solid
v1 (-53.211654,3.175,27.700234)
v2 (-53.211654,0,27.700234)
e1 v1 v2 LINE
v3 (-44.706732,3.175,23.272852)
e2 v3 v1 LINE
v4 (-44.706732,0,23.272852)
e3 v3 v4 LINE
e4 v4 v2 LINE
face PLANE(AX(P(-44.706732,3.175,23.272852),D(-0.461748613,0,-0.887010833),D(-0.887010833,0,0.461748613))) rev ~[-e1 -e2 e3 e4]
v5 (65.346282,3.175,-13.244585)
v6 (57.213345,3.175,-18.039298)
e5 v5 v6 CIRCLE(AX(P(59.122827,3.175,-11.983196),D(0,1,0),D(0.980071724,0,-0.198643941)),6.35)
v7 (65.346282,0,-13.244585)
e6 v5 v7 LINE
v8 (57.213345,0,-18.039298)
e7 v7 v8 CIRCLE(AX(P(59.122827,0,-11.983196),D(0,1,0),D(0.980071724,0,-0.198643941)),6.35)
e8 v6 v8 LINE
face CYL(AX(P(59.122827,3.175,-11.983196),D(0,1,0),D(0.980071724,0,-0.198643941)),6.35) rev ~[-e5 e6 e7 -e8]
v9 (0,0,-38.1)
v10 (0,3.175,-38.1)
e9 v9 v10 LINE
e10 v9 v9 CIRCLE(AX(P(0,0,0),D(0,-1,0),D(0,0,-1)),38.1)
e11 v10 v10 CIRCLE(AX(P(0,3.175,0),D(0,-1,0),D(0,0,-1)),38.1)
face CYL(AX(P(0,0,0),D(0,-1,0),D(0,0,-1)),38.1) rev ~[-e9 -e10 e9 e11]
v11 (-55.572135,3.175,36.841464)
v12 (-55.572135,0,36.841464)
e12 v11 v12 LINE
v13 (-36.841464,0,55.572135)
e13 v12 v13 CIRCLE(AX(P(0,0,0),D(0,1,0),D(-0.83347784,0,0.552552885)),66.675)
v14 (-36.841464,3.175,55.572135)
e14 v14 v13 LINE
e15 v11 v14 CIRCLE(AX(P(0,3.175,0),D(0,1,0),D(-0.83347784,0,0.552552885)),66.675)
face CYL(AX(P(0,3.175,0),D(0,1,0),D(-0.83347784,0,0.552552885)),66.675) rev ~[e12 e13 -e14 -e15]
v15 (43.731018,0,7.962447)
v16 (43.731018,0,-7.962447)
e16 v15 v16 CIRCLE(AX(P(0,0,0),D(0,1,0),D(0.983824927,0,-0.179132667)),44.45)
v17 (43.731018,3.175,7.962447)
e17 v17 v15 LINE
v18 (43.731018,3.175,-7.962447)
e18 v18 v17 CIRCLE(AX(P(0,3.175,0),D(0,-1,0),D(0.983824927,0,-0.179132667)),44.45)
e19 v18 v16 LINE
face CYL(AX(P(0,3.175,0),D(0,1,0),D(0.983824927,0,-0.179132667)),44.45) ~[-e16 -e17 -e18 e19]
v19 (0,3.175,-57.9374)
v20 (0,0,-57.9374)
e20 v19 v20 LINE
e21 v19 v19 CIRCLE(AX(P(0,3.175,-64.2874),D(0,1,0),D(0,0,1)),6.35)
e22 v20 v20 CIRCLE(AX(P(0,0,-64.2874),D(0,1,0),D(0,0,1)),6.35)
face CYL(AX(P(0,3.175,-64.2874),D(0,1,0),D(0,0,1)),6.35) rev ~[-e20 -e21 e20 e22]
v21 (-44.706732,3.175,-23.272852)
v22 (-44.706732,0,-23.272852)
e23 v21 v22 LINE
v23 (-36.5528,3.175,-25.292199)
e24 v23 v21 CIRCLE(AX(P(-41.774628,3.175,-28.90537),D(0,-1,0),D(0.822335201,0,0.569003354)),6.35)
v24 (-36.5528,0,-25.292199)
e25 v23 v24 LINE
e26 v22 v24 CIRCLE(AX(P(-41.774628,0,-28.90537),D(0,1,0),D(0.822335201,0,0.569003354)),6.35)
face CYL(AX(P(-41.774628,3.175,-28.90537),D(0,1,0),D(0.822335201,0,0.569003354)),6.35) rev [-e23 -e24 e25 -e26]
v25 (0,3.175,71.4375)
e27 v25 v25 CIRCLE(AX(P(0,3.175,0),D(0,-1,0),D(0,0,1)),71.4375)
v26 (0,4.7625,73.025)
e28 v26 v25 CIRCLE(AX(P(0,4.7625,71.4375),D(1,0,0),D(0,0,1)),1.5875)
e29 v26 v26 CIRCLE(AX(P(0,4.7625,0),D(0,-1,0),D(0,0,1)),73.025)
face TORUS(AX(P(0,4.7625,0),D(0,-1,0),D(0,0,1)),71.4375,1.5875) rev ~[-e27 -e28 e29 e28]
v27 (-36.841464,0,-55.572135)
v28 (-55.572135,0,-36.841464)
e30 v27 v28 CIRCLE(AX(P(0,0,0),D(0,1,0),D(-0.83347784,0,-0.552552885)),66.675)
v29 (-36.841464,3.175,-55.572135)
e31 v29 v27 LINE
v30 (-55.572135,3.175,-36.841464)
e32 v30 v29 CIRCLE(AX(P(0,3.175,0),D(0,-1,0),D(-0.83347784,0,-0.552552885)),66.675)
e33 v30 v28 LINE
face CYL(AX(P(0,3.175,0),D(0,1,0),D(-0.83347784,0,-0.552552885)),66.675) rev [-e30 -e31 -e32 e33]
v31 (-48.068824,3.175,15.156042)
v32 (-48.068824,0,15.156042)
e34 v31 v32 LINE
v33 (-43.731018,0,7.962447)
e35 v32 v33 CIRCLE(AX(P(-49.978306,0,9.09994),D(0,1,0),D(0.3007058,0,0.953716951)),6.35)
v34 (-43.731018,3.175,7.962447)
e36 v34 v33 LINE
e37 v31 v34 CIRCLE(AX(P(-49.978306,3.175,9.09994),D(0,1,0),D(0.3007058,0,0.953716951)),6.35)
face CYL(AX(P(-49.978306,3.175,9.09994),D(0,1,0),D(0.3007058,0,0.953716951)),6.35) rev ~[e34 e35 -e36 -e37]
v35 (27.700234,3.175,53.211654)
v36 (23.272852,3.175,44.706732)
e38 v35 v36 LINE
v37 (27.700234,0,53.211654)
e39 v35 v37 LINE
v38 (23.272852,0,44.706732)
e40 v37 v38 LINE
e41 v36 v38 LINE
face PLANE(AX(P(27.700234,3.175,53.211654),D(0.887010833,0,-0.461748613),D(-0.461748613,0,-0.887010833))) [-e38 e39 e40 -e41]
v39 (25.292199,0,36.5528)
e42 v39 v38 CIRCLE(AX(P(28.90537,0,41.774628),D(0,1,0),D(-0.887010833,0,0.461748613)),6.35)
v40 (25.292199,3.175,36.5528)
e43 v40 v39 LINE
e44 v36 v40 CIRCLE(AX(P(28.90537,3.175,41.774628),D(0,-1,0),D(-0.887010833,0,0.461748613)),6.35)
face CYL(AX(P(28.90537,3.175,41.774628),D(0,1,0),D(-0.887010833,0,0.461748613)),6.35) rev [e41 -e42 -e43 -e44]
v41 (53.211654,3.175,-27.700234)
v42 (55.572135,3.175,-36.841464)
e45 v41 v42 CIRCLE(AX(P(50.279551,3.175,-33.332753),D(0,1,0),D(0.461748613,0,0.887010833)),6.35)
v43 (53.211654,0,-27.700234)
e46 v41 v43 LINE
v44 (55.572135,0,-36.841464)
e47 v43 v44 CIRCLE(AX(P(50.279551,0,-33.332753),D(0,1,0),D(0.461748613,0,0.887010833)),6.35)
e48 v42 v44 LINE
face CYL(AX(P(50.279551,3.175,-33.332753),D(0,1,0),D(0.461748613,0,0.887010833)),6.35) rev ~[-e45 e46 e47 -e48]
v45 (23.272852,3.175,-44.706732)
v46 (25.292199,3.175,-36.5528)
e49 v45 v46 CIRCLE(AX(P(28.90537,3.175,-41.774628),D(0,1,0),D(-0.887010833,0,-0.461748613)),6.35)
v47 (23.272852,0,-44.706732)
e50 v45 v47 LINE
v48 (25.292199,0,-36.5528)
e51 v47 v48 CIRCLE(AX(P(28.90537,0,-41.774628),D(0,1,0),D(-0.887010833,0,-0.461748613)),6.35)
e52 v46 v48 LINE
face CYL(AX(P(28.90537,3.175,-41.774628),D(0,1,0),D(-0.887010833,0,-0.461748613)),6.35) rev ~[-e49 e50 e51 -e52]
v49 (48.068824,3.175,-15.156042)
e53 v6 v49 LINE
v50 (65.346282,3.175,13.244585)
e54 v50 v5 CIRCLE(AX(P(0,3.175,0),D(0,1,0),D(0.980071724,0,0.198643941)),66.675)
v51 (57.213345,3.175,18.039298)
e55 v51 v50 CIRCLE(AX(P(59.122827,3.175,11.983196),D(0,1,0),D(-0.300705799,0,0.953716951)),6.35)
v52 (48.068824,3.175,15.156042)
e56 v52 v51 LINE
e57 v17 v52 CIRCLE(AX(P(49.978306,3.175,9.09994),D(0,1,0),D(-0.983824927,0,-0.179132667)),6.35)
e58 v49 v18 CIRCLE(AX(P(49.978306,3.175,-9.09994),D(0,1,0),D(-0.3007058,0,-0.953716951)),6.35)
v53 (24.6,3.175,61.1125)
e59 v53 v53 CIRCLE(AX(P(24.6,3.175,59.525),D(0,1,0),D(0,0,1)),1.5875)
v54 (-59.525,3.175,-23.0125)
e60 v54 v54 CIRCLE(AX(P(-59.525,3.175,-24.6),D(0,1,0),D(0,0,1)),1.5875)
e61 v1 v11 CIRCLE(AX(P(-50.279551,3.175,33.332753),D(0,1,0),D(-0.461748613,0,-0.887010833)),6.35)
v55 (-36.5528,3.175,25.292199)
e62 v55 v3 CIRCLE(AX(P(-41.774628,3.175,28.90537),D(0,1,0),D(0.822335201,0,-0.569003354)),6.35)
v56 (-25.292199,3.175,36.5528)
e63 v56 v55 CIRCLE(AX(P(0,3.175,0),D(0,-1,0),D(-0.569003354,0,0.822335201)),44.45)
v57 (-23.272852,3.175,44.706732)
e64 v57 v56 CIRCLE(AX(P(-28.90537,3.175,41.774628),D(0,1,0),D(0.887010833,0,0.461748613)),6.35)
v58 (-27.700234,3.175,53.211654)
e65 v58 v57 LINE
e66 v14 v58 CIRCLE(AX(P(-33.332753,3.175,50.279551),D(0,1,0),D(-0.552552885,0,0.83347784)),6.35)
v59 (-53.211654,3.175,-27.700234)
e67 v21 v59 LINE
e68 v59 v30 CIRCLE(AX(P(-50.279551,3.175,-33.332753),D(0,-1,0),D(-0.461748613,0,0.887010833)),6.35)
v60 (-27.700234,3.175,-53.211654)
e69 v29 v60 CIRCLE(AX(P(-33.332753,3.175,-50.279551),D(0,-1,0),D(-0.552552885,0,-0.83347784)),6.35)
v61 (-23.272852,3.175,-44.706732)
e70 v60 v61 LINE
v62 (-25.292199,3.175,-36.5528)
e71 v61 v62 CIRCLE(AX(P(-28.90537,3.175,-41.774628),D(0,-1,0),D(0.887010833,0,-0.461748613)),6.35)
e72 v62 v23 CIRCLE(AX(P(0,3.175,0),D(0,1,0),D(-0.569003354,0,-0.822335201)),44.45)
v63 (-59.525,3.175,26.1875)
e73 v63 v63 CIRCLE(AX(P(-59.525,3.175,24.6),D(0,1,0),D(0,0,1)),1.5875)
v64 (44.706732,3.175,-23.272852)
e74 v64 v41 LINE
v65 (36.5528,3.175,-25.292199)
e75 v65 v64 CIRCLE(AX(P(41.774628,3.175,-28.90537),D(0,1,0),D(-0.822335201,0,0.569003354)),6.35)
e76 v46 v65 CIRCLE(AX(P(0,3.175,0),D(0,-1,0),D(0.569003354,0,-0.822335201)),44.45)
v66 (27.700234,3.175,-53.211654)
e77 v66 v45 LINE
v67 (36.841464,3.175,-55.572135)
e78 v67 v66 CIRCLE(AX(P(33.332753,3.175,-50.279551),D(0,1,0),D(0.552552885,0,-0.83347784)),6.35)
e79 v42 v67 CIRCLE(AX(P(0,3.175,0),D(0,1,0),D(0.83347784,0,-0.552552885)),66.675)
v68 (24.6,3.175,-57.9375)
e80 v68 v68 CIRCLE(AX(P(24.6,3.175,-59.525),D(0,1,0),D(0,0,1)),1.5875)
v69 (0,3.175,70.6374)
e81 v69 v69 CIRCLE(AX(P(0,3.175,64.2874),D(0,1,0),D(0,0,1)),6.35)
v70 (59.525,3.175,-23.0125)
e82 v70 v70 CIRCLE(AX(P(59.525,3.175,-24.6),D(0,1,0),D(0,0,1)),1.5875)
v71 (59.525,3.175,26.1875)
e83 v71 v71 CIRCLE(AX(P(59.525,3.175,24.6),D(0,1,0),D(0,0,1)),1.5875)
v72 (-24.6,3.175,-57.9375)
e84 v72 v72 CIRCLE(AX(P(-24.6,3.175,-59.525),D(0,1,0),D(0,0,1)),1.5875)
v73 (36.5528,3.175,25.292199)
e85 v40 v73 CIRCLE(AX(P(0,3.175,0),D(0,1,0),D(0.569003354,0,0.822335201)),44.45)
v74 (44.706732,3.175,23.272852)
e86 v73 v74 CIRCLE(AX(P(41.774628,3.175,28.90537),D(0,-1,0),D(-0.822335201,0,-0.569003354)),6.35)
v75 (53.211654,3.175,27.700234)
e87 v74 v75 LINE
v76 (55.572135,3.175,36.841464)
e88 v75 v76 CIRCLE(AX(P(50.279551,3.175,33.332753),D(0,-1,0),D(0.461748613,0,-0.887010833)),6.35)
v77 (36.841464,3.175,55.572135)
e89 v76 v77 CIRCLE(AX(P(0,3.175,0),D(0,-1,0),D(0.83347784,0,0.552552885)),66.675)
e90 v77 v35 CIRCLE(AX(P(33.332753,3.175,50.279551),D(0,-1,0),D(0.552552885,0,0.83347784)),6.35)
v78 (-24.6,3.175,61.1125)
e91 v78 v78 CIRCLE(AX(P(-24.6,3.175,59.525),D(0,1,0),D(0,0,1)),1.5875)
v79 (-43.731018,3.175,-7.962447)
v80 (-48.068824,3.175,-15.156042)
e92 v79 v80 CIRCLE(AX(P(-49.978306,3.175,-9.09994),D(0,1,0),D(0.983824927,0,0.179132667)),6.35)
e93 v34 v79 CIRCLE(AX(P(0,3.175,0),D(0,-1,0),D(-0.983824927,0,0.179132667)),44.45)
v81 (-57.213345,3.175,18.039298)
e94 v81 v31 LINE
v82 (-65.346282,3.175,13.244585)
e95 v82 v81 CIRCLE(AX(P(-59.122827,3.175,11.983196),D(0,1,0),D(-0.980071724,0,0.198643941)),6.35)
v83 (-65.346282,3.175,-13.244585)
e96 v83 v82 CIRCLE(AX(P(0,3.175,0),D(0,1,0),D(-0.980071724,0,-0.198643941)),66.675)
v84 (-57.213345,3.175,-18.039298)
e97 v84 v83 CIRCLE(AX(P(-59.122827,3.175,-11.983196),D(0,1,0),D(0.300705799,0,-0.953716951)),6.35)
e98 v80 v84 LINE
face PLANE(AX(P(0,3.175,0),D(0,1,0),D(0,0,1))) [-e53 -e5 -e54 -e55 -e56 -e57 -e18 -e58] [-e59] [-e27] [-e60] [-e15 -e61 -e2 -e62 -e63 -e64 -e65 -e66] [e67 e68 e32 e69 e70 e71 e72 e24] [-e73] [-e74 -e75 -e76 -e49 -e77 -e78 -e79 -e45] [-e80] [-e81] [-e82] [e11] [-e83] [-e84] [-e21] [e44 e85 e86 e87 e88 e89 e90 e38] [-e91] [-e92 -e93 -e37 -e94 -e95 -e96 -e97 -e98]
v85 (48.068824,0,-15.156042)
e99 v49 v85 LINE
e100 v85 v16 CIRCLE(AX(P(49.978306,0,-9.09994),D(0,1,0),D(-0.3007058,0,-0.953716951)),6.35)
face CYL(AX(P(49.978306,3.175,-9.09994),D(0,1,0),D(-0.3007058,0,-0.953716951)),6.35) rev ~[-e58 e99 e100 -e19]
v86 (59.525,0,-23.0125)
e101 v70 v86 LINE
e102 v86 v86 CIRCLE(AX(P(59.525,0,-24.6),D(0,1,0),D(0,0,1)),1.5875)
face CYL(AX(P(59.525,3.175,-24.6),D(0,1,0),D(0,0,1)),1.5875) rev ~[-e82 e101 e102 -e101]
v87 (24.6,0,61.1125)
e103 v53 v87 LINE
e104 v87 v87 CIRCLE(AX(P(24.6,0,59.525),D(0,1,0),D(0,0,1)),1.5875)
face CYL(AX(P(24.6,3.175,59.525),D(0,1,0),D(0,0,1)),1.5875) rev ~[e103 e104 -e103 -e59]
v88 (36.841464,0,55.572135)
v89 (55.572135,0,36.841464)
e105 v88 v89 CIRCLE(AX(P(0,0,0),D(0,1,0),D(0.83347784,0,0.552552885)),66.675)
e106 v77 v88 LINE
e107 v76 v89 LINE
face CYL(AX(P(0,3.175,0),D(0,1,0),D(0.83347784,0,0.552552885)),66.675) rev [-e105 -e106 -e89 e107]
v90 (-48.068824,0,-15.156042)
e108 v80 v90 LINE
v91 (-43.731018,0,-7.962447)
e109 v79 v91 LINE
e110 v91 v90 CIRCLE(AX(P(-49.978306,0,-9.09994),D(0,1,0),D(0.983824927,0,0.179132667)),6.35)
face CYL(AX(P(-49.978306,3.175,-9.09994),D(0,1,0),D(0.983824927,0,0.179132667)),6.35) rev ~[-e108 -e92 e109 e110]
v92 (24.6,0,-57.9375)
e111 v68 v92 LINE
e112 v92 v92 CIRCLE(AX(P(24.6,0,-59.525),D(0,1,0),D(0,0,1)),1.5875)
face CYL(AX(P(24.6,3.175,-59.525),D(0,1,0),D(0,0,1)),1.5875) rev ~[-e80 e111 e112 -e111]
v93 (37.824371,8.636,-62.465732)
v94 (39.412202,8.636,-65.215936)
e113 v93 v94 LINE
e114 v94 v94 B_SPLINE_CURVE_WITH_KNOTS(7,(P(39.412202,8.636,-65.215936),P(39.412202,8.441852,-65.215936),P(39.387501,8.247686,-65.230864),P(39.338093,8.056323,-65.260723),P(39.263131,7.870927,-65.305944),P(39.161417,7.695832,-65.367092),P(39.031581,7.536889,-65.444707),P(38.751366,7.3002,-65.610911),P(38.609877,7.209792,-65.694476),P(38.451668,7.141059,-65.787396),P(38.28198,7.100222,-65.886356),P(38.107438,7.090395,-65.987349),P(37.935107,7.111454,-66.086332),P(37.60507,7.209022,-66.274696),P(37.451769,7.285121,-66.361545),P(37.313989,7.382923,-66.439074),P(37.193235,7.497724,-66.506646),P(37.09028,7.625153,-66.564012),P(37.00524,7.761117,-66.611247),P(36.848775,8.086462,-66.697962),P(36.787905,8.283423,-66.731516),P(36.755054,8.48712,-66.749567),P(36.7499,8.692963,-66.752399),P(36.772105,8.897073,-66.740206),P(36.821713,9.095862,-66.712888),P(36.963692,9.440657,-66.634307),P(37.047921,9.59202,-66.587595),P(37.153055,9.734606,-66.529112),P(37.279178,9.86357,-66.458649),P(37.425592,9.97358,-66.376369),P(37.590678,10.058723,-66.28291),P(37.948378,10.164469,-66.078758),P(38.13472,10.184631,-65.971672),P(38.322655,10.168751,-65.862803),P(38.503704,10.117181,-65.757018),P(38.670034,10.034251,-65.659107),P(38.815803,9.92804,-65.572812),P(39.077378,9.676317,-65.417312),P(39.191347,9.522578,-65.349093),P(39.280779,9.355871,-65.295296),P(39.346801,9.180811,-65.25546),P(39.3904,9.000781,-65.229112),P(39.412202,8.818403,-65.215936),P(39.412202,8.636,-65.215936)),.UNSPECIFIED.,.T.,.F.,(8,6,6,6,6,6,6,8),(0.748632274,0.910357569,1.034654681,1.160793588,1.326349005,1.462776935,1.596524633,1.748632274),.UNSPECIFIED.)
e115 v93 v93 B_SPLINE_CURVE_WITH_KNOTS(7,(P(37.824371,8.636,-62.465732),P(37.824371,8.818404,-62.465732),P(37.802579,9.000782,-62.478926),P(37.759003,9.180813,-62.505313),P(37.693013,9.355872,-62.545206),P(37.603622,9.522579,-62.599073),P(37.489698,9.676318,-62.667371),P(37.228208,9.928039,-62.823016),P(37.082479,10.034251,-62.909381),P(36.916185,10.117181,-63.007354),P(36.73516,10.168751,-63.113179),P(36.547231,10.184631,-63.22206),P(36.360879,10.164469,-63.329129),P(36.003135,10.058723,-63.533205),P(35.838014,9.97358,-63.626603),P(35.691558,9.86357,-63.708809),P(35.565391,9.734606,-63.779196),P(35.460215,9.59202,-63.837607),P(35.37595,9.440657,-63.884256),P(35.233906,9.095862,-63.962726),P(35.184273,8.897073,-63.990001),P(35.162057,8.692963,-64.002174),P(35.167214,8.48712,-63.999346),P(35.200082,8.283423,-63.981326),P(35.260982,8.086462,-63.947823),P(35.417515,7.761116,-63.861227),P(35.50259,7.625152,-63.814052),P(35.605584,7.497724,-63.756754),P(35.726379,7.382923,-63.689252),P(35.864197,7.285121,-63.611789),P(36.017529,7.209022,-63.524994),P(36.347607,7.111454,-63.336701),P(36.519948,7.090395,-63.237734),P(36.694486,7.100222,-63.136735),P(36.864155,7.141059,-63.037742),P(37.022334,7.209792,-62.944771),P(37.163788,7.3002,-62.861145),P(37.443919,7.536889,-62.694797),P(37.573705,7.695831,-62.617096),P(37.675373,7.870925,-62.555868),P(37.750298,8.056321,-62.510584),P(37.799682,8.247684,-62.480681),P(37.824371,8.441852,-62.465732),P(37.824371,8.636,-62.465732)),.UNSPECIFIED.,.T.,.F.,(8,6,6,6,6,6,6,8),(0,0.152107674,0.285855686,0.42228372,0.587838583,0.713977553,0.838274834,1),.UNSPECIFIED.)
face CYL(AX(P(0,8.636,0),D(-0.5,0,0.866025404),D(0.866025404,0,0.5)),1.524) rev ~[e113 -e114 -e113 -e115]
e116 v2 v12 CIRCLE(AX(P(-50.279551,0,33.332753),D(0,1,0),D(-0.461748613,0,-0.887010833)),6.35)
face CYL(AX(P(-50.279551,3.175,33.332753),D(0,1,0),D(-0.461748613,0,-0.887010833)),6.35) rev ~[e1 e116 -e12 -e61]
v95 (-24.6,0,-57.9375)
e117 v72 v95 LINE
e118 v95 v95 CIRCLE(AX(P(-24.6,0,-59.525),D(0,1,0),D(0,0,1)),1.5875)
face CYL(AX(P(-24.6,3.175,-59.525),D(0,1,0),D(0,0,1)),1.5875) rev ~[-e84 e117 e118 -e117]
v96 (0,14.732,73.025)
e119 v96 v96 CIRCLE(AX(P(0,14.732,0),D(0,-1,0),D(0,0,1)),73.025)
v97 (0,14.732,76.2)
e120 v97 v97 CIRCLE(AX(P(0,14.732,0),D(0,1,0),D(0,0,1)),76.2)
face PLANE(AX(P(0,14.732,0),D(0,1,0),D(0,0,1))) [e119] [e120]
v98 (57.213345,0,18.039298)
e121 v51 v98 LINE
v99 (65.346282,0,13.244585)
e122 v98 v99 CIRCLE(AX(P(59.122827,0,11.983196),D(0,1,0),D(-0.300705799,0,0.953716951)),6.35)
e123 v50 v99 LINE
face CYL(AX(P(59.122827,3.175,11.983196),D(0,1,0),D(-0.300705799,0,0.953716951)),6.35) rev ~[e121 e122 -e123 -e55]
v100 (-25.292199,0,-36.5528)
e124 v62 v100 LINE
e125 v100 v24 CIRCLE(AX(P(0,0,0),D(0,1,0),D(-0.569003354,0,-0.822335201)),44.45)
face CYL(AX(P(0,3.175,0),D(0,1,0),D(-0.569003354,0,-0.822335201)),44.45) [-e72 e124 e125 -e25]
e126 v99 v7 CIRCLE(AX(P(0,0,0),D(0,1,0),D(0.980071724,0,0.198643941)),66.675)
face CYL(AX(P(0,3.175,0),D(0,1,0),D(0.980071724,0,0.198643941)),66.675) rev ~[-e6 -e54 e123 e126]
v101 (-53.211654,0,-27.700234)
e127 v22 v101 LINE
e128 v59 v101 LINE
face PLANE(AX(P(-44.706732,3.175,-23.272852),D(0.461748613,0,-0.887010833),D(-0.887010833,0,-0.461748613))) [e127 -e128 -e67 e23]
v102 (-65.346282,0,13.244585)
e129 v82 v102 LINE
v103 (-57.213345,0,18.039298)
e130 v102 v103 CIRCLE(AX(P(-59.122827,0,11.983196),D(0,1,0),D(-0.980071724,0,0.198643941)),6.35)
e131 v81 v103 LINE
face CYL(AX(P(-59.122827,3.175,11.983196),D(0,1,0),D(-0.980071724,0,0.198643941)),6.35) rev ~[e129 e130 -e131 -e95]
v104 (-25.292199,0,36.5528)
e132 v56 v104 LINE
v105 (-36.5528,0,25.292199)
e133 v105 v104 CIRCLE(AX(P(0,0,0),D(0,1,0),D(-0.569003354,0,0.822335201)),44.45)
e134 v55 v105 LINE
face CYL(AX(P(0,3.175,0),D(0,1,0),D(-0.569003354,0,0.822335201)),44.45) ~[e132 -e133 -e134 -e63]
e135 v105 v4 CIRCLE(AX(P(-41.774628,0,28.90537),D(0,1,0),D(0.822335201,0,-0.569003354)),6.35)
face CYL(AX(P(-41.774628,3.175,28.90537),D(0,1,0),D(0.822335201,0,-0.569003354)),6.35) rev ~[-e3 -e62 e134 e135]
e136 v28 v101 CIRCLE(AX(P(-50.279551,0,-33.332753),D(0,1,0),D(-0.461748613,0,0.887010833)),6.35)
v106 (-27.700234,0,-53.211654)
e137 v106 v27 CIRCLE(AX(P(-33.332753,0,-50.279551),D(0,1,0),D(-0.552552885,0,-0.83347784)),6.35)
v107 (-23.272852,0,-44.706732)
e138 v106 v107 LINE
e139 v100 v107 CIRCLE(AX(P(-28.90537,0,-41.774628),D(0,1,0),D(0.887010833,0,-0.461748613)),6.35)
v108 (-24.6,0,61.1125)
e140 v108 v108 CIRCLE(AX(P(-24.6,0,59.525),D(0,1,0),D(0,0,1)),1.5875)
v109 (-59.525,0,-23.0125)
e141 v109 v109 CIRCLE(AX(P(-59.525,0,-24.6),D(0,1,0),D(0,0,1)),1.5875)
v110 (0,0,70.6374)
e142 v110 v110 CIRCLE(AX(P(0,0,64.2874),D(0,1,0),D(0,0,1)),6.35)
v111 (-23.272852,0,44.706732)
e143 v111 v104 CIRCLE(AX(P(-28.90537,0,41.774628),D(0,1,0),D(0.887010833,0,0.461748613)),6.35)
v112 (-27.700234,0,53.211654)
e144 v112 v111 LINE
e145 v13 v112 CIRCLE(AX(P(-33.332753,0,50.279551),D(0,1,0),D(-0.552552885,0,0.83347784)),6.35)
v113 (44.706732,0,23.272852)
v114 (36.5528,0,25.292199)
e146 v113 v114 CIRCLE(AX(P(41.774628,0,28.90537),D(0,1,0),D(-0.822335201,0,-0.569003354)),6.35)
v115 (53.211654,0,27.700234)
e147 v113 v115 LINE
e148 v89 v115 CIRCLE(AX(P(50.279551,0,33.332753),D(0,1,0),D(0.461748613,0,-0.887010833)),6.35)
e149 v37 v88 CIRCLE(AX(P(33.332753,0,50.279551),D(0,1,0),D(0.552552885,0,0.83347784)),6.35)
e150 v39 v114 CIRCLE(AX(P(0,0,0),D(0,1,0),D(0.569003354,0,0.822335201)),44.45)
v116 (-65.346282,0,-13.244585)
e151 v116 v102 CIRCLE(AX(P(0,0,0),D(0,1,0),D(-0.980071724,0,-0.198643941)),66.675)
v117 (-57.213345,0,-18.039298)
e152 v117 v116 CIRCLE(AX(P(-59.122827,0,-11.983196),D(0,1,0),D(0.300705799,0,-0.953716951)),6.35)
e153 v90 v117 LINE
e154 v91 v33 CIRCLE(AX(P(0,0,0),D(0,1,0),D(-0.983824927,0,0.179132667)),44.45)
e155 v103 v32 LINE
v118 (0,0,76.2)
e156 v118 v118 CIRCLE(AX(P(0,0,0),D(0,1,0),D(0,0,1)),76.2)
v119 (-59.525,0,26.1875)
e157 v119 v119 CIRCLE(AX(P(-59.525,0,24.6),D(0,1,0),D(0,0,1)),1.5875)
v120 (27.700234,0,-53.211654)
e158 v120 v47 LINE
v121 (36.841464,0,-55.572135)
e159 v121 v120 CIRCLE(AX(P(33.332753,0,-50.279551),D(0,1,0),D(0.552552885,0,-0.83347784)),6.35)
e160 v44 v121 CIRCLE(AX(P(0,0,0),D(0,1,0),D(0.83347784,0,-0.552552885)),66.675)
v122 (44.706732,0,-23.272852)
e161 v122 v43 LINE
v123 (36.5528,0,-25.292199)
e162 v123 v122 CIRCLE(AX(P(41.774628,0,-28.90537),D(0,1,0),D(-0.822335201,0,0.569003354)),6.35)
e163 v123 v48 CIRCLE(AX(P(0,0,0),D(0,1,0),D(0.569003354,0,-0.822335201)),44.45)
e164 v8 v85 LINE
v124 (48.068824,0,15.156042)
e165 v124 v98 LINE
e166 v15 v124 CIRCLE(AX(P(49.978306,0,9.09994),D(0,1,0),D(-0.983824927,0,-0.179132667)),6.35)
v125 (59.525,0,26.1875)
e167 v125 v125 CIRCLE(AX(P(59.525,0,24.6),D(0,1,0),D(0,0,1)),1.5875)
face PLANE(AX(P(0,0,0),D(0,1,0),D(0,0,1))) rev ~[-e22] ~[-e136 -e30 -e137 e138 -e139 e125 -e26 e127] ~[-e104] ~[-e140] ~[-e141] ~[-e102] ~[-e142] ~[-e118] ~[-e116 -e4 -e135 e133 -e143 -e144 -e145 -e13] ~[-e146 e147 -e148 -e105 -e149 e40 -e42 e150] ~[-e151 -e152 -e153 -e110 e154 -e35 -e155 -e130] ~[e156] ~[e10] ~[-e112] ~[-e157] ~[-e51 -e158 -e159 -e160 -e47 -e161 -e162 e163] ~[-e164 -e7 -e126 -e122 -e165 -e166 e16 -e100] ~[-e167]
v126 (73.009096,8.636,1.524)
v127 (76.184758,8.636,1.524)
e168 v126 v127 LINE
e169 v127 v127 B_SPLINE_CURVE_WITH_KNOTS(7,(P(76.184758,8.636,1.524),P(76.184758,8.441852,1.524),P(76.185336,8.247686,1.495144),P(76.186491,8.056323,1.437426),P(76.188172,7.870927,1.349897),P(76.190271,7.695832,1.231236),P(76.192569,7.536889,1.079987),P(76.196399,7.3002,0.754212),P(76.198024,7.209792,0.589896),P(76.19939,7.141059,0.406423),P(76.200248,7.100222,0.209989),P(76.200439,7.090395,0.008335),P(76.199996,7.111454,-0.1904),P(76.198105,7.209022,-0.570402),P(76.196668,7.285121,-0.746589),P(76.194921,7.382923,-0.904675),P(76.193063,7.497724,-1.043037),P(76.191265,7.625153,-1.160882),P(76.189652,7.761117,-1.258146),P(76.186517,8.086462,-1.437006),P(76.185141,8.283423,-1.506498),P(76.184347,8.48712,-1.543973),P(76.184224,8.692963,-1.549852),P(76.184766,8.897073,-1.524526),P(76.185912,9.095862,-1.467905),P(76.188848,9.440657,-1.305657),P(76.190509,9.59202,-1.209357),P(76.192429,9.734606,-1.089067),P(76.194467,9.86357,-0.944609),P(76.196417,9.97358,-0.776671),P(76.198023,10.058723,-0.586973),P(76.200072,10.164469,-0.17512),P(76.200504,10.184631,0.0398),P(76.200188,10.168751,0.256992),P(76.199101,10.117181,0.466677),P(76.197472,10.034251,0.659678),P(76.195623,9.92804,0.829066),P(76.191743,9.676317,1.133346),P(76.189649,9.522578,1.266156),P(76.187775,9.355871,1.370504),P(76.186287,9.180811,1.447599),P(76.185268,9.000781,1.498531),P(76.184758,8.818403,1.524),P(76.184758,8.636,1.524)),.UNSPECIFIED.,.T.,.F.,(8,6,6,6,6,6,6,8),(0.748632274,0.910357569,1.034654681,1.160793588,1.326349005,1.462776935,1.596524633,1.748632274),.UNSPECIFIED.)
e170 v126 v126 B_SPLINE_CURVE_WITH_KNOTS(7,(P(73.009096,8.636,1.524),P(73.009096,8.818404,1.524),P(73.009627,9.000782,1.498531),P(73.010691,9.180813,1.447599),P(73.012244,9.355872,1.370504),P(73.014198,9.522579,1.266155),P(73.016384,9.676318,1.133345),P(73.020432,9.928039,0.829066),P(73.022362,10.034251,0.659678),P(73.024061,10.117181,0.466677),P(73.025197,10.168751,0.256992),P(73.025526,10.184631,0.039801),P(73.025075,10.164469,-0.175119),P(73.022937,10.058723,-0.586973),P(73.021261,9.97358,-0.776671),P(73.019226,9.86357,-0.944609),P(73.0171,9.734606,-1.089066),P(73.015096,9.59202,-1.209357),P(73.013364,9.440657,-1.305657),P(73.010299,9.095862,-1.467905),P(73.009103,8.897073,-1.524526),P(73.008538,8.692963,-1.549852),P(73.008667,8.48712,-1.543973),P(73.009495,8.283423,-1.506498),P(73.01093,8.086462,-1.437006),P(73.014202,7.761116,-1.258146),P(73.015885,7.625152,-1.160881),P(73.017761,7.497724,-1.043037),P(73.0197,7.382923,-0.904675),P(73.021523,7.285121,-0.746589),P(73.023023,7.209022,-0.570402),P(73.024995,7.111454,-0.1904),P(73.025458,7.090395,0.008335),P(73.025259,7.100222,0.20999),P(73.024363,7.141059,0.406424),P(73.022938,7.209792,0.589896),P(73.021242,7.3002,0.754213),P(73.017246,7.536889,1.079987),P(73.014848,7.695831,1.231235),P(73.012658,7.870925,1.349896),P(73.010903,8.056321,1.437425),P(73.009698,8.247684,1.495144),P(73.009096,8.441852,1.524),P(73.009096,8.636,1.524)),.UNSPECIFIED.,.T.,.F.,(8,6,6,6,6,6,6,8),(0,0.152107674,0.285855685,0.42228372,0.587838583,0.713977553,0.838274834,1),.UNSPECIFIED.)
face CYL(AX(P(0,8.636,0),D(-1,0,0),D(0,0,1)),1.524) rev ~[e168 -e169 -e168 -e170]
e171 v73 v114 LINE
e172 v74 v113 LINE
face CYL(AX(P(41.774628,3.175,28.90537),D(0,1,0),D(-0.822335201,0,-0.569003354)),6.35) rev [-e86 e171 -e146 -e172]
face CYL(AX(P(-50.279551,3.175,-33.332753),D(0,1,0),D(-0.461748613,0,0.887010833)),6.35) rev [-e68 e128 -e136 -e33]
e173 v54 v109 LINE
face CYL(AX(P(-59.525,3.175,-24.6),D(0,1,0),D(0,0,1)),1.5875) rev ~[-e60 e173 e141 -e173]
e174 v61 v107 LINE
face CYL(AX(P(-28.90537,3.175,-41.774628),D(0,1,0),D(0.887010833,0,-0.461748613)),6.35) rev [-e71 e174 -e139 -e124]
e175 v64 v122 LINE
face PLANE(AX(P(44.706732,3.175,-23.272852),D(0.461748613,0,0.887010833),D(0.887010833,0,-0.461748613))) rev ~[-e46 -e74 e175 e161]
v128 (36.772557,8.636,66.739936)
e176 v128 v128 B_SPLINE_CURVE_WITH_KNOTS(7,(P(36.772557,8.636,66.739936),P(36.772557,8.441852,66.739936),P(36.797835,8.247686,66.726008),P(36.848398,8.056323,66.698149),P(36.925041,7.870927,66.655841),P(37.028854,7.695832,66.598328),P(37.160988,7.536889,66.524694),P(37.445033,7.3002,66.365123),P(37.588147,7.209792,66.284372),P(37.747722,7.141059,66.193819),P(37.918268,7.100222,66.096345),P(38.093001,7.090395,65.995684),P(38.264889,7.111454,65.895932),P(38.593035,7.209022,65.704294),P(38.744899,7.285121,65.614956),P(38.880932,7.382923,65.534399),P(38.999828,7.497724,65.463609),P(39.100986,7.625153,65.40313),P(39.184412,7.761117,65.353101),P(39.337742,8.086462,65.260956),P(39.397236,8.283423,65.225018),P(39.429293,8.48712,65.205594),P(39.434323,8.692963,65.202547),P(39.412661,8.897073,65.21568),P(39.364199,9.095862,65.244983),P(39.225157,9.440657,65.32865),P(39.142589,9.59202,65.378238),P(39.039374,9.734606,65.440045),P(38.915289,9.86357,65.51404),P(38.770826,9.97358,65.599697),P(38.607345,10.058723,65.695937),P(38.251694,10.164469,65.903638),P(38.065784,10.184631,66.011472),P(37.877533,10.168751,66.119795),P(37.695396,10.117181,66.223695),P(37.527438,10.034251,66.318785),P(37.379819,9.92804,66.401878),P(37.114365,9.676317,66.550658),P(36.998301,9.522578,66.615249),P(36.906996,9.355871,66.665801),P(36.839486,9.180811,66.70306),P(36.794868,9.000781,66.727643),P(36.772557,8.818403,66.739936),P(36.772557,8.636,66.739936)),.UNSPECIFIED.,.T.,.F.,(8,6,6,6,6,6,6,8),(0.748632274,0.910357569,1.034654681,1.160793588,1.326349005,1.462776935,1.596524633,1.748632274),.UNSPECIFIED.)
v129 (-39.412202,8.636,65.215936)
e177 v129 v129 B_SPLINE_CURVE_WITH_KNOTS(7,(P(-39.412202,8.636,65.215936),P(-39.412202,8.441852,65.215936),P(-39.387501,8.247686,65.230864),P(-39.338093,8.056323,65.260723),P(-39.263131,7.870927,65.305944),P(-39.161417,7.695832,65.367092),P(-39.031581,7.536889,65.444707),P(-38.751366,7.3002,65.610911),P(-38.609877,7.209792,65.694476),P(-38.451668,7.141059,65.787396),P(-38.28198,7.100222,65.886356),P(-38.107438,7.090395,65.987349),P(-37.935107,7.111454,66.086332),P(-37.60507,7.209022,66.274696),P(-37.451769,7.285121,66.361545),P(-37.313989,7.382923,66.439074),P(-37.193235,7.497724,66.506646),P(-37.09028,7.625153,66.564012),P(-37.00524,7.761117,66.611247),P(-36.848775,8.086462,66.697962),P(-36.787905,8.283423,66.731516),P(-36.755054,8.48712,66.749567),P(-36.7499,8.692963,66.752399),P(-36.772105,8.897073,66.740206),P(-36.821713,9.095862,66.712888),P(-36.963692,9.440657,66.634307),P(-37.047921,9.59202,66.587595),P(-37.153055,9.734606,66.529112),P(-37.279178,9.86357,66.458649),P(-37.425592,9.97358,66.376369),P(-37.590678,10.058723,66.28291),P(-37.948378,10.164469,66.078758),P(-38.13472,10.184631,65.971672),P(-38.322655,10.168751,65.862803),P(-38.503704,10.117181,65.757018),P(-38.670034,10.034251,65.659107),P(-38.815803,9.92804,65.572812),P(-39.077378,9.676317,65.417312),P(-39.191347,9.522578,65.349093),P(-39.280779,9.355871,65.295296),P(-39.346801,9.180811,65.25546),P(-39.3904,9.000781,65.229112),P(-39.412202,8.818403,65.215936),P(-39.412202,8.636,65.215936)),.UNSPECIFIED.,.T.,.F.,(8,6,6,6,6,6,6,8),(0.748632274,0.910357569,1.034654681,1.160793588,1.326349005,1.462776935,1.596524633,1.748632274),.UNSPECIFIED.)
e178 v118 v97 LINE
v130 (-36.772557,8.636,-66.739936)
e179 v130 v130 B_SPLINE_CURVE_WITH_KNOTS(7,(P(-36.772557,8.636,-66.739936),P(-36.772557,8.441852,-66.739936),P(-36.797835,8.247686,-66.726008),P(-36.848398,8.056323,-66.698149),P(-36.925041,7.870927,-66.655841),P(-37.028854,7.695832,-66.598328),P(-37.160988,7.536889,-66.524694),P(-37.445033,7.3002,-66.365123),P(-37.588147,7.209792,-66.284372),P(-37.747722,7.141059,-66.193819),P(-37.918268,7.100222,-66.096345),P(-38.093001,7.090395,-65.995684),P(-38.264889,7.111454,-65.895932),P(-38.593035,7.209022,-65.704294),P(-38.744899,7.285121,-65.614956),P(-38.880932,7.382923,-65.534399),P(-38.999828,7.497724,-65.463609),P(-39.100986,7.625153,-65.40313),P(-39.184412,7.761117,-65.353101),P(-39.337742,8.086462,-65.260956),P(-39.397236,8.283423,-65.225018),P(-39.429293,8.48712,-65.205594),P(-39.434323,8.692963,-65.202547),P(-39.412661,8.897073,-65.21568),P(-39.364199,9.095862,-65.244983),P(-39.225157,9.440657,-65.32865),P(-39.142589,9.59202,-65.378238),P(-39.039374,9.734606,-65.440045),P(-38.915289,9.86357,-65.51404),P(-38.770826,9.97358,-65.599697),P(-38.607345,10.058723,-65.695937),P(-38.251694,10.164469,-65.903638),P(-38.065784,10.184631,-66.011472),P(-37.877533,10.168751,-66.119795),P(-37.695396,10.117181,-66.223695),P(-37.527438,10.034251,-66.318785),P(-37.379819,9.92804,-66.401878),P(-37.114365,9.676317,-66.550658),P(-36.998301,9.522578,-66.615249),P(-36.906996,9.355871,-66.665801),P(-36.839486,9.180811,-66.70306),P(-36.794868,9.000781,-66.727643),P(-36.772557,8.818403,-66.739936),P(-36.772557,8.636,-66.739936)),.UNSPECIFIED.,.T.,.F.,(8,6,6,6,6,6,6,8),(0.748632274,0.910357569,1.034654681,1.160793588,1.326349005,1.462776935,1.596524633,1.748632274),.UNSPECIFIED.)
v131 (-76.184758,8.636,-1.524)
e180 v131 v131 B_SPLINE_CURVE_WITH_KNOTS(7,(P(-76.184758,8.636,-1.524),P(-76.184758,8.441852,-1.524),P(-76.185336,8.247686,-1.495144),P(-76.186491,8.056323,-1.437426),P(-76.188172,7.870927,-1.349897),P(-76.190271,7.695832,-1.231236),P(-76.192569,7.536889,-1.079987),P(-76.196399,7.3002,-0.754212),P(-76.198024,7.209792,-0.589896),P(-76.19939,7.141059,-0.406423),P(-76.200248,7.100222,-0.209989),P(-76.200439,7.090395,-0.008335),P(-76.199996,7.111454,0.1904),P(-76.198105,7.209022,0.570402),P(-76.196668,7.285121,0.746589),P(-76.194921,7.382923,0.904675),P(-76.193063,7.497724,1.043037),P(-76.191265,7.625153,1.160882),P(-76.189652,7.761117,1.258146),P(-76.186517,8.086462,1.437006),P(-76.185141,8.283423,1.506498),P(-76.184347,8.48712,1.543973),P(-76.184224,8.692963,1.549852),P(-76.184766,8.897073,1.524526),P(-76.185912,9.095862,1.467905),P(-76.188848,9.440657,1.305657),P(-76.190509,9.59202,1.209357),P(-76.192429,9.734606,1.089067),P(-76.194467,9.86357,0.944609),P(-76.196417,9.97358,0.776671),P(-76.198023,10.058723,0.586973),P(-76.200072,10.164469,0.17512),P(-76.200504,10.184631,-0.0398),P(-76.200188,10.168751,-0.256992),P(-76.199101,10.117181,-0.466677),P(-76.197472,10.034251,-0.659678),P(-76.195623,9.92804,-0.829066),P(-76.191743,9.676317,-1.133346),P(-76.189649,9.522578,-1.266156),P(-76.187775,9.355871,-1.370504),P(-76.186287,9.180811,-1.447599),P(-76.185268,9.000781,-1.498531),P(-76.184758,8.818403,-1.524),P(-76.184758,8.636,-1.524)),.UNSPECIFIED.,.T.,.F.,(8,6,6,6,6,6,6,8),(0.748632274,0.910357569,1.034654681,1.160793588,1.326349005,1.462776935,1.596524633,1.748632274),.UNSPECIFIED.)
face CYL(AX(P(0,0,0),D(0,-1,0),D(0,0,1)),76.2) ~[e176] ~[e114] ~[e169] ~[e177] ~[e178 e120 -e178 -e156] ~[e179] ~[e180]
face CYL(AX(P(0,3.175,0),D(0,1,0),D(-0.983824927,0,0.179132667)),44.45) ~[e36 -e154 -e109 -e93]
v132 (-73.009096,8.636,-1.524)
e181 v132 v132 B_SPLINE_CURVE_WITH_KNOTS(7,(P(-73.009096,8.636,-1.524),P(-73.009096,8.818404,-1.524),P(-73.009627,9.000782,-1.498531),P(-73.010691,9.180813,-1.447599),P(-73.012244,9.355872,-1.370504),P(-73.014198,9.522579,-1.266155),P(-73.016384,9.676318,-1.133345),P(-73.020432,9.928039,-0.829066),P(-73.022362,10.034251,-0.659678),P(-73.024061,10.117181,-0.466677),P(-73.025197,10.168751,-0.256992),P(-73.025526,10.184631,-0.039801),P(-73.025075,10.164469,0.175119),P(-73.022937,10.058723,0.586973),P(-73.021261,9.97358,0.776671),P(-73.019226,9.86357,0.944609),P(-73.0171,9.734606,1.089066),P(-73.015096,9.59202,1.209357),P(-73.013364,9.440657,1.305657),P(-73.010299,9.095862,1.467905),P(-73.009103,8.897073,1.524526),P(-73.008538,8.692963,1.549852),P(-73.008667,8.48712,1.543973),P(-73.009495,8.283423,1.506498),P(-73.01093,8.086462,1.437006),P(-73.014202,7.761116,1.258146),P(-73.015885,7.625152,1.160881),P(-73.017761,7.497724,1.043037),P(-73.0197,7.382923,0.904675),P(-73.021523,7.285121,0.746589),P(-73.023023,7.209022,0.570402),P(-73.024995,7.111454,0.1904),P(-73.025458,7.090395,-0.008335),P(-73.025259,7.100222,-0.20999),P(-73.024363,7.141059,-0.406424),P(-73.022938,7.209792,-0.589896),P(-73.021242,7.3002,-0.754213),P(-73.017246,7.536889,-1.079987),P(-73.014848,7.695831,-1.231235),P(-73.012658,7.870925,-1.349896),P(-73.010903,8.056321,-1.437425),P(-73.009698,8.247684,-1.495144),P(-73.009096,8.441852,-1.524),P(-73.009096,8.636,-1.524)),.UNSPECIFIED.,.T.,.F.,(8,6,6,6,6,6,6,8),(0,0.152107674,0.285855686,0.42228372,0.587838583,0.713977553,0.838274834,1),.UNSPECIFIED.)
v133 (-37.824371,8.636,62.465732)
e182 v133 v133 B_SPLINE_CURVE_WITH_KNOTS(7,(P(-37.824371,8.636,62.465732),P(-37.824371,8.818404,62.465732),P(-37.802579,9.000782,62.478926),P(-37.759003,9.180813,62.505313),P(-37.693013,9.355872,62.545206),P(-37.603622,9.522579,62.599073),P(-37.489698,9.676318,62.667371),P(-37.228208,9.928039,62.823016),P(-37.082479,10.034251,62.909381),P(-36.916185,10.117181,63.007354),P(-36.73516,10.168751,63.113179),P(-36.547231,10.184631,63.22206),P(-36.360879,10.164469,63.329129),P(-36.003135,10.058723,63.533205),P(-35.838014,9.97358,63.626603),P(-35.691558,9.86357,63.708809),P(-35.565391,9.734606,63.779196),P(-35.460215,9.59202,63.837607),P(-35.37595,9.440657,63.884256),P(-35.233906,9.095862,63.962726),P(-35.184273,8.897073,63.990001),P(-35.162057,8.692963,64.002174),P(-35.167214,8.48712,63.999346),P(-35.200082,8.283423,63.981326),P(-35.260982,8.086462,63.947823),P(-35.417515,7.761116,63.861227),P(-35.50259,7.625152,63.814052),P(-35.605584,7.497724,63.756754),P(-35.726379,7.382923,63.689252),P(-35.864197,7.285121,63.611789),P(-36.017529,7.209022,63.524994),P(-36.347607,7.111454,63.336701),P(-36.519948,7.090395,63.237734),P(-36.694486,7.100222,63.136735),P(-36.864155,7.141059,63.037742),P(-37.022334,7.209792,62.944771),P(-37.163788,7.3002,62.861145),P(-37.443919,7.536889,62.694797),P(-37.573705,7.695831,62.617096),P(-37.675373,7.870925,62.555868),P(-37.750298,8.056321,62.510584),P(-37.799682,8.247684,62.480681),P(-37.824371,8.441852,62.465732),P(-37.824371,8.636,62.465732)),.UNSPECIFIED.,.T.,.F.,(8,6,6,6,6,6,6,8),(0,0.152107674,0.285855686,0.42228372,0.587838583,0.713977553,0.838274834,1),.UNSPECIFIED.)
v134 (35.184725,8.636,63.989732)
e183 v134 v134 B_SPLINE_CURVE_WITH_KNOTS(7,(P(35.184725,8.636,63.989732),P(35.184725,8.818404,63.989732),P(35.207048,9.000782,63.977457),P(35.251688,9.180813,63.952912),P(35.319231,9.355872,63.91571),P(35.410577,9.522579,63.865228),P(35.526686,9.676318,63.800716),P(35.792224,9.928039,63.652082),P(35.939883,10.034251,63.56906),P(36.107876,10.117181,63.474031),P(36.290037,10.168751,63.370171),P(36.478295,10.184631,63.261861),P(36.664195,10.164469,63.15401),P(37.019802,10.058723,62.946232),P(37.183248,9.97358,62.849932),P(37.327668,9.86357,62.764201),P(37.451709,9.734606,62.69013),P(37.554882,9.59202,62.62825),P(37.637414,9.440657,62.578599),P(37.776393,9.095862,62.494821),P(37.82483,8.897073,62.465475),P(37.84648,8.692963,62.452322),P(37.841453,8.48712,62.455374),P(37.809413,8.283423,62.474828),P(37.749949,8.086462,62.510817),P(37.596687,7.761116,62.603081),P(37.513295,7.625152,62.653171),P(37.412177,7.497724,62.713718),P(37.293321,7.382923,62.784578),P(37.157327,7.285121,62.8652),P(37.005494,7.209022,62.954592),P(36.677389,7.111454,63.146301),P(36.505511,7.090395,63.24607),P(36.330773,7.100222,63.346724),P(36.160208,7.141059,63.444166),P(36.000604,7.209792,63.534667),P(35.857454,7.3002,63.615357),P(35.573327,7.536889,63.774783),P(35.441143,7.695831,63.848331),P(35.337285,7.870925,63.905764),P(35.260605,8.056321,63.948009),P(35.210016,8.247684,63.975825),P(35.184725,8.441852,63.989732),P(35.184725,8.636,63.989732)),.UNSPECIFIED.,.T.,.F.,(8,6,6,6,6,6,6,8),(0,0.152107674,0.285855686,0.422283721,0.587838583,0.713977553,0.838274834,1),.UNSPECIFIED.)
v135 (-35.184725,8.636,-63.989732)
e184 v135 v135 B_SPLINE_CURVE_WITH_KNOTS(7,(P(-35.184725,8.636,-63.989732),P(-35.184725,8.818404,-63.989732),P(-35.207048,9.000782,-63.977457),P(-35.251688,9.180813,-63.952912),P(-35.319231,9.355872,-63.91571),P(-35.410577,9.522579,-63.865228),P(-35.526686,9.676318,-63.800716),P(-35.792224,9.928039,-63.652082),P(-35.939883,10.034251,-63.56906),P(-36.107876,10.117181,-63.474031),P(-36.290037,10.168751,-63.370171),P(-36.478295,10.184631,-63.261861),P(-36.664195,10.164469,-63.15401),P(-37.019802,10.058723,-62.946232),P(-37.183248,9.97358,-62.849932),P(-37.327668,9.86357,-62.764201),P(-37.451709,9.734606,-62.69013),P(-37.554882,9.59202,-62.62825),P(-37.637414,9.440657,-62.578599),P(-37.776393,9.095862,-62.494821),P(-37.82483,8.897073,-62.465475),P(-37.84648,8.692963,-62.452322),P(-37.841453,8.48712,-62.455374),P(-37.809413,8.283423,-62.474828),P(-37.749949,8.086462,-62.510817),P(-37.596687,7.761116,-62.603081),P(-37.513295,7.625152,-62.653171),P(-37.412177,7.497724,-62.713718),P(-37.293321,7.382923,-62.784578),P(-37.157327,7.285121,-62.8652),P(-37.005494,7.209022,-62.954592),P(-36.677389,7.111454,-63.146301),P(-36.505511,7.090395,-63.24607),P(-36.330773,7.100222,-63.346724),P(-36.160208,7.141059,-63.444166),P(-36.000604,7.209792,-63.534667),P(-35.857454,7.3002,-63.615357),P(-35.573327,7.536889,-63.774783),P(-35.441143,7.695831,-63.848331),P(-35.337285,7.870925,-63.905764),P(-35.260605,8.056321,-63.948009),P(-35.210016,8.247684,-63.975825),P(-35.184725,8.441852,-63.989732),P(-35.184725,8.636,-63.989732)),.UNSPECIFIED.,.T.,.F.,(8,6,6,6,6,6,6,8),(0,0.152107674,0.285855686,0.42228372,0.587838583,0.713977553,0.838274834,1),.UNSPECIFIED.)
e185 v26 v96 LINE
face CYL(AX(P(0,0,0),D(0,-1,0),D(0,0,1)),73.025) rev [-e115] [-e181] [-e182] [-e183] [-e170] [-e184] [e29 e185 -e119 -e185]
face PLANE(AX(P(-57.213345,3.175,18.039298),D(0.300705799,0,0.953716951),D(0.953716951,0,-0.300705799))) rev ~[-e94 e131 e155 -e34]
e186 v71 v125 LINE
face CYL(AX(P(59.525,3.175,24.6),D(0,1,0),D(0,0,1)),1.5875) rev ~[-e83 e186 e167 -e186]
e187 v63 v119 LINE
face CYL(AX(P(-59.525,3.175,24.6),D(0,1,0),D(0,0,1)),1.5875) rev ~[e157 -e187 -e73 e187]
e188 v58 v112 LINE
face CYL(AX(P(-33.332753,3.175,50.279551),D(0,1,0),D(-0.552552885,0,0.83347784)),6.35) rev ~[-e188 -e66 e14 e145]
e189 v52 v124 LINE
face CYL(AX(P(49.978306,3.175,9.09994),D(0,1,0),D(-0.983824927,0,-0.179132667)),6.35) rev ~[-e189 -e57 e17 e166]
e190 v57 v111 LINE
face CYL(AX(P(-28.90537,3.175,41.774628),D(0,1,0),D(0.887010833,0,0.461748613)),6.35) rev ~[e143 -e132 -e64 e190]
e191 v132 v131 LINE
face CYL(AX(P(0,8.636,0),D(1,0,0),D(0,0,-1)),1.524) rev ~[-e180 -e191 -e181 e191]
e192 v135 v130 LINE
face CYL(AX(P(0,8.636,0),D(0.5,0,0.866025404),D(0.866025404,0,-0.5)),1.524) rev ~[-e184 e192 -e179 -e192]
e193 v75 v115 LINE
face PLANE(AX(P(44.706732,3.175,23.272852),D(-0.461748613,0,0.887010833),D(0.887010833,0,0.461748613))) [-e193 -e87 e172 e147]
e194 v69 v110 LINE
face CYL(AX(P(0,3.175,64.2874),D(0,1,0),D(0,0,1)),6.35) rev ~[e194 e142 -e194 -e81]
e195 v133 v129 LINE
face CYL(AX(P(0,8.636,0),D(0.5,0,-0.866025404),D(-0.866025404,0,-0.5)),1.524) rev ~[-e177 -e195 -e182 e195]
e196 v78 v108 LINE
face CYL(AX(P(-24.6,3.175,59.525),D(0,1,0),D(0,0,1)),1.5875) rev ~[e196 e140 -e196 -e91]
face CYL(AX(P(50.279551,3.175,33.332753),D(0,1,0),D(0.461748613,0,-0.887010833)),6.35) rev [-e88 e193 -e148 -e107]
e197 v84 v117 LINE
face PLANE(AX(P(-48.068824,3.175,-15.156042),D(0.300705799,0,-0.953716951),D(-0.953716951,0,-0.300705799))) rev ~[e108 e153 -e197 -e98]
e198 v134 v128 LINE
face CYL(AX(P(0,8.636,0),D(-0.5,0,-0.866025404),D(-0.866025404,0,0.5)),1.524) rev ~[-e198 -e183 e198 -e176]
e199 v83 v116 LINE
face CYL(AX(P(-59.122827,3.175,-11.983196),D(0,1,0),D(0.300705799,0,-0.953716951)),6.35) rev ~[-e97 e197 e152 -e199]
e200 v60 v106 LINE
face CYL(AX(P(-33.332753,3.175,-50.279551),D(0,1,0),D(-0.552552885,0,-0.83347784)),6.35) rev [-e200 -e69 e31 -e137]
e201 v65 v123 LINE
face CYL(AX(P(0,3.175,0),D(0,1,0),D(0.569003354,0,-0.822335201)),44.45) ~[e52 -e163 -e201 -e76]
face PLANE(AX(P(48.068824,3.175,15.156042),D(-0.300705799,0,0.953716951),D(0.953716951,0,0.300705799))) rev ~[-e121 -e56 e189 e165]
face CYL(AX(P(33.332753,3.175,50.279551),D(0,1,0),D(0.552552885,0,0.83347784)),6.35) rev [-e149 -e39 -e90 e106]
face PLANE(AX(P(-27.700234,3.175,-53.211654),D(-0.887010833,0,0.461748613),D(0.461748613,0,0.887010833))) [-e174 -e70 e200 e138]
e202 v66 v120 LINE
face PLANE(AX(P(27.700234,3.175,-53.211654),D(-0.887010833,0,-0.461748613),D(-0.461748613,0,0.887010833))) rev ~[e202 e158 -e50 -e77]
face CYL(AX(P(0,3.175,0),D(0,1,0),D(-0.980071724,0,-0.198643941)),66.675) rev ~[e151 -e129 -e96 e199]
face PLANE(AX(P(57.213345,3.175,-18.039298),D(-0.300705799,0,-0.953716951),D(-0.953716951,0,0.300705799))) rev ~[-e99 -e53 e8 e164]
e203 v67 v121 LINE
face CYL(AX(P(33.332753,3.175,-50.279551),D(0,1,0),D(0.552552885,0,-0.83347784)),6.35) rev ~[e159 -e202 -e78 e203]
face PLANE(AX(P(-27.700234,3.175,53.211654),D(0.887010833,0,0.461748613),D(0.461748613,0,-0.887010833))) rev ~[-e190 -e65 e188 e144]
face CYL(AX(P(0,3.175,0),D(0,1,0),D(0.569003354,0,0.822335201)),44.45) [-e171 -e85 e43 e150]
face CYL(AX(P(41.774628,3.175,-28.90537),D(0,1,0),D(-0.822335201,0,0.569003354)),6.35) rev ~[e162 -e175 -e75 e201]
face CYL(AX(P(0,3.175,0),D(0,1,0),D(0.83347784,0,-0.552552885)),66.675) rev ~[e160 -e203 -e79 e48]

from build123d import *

# Parameters (mm, degrees)
SKETCH1_R           = 76.2
BOSS_EXTRUDE1_DEPTH = 16.256
SHELL1_T            = -3.175
FILLET1_R           = 1.5875
SKETCH2_R           = 38.1
CUT_EXTRUDE1_DEPTH  = 16.256
SKETCH3_R           = 1.524
CUT_EXTRUDE2_DEPTH  = 76.2
CIRPATTERN1_COUNT   = 6
CUT_EXTRUDE4_START  = -1.524
SKETCH5_R           = 76.2
CUT_EXTRUDE4_DEPTH  = 1.524
SKETCH6_R           = 6.35
CUT_EXTRUDE5_DEPTH  = 12.7
SKETCH7_R           = 1.5875
CUT_EXTRUDE6_DEPTH  = 6.35
CUT_EXTRUDE8_DEPTH  = 6.35
CUT_EXTRUDE9_DEPTH  = 6.35


with BuildPart() as part:
    # Sketch1 → Boss-Extrude1 (new body)
    with BuildSketch(Plane(origin=(0, 0, 0), x_dir=(1, 0, 0), z_dir=(0, 1, 0))):
        with Locations(Location((0, 0, 0), (0, 0, 270))):
            Circle(SKETCH1_R)
    extrude(amount=BOSS_EXTRUDE1_DEPTH)

    # Shell1
    shell1_openings = [part.faces().sort_by_distance(p)[0] for p in [
        (0, 16.256, 0),
    ]]
    offset(amount=SHELL1_T, openings=shell1_openings, kind=Kind.INTERSECTION)

    # Fillet1
    fillet1_edges = [part.edges().sort_by_distance(p)[0] for p in [
        (0, 3.175, -73.025),
    ]]
    fillet(fillet1_edges, radius=FILLET1_R)

    # Sketch2 → Cut-Extrude1 (cut)
    with BuildSketch(Plane.XZ):
        with Locations(Location((0, 0, 0), (0, 0, 270))):
            Circle(SKETCH2_R)
    extrude(amount=-CUT_EXTRUDE1_DEPTH, mode=Mode.SUBTRACT)

    # Sketch3 → Cut-Extrude2 (cut)
    with BuildSketch(Plane(origin=(0, 0, 0), x_dir=(0, 0, -1), z_dir=(1, 0, 0))):
        with Locations((0, 8.636)):
            Circle(SKETCH3_R)
    cut_extrude2 = extrude(amount=-CUT_EXTRUDE2_DEPTH, mode=Mode.SUBTRACT)

    # CirPattern1: Cut-Extrude2 ×6 about axis
    cirpattern1_axis = Axis((0, 16.256, 0), (0, -1, 0))
    for i in range(1, CIRPATTERN1_COUNT):
        add(cut_extrude2.rotate(cirpattern1_axis, i * 360 / CIRPATTERN1_COUNT), mode=Mode.SUBTRACT)

    # Sketch5 → Cut-Extrude4 (cut)
    with BuildSketch(Plane(origin=(0, 16.256, 0), x_dir=(1, 0, 0), z_dir=(0, 1, 0)).offset(CUT_EXTRUDE4_START)):
        with Locations(Location((0, 0, 0), (0, 0, 270))):
            Circle(SKETCH5_R)
    extrude(amount=CUT_EXTRUDE4_DEPTH, mode=Mode.SUBTRACT)

    # Sketch6 → Cut-Extrude5 (cut)
    with BuildSketch(Plane(origin=(0, 3.175, 0), x_dir=(1, 0, 0), z_dir=(0, 1, 0))):
        with Locations(Location((0, 64.2874, 0), (0, 0, 270))):
            Circle(SKETCH6_R)
        with Locations(Location((0, -64.2874, 0), (0, 0, 270))):
            Circle(SKETCH6_R)
    extrude(amount=-CUT_EXTRUDE5_DEPTH, mode=Mode.SUBTRACT)

    # Sketch7 → Cut-Extrude6 (cut)
    with BuildSketch(Plane(origin=(0, 3.175, 0), x_dir=(1, 0, 0), z_dir=(0, 1, 0))):
        with Locations(Location((-24.6, 59.525, 0), (0, 0, 270))):
            Circle(SKETCH7_R)
        with Locations(Location((24.6, 59.525, 0), (0, 0, 270))):
            Circle(SKETCH7_R)
        with Locations(Location((24.6, -59.525, 0), (0, 0, 270))):
            Circle(SKETCH7_R)
        with Locations(Location((-24.6, -59.525, 0), (0, 0, 270))):
            Circle(SKETCH7_R)
        with Locations(Location((-59.525, -24.6, 0), (0, 0, 270))):
            Circle(SKETCH7_R)
        with Locations(Location((-59.525, 24.6, 0), (0, 0, 270))):
            Circle(SKETCH7_R)
        with Locations(Location((59.525, 24.6, 0), (0, 0, 270))):
            Circle(SKETCH7_R)
        with Locations(Location((59.525, -24.6, 0), (0, 0, 270))):
            Circle(SKETCH7_R)
    extrude(amount=-CUT_EXTRUDE6_DEPTH, mode=Mode.SUBTRACT)

    # Sketch9 → Cut-Extrude8 (cut)
    with BuildSketch(Plane(origin=(0, 3.175, 0), x_dir=(1, 0, 0), z_dir=(0, 1, 0))):
        with BuildLine():
            Line((-27.700233979, 53.211654386), (-23.272851578, 44.706731925))
            ThreePointArc((-23.272851578, 44.706731925), (-22.741576978, 40.248145008), (-25.292199073, 36.552799702))
            ThreePointArc((-25.292199073, 36.552799702), (-31.430896424, 31.430896424), (-36.552799702, 25.292199073))
            ThreePointArc((-36.552799702, 25.292199073), (-40.248145008, 22.741576978), (-44.706731925, 23.272851578))
            Line((-44.706731925, 23.272851578), (-53.211654386, 27.700233979))
            ThreePointArc((-53.211654386, 27.700233979), (-56.427875079, 31.745110735), (-55.572134976, 36.841463587))
            ThreePointArc((-55.572134976, 36.841463587), (-47.146344636, 47.146344636), (-36.841463587, 55.572134976))
            ThreePointArc((-36.841463587, 55.572134976), (-31.745110735, 56.427875079), (-27.700233979, 53.211654386))
        make_face()
        with BuildLine():
            Line((44.706731925, 23.272851578), (53.211654386, 27.700233979))
            ThreePointArc((53.211654386, 27.700233979), (56.427875079, 31.745110735), (55.572134976, 36.841463587))
            ThreePointArc((55.572134976, 36.841463587), (47.146344636, 47.146344636), (36.841463587, 55.572134976))
            ThreePointArc((36.841463587, 55.572134976), (31.745110735, 56.427875079), (27.700233979, 53.211654386))
            Line((27.700233979, 53.211654386), (23.272851578, 44.706731925))
            ThreePointArc((23.272851578, 44.706731925), (22.741576978, 40.248145008), (25.292199073, 36.552799702))
            ThreePointArc((25.292199073, 36.552799702), (31.430896424, 31.430896424), (36.552799702, 25.292199073))
            ThreePointArc((36.552799702, 25.292199073), (40.248145008, 22.741576978), (44.706731925, 23.272851578))
        make_face()
        with BuildLine():
            Line((27.700233979, -53.211654386), (23.272851578, -44.706731925))
            ThreePointArc((23.272851578, -44.706731925), (22.741576978, -40.248145008), (25.292199073, -36.552799702))
            ThreePointArc((25.292199073, -36.552799702), (31.430896424, -31.430896424), (36.552799702, -25.292199073))
            ThreePointArc((36.552799702, -25.292199073), (40.248145008, -22.741576978), (44.706731925, -23.272851578))
            Line((44.706731925, -23.272851578), (53.211654386, -27.700233979))
            ThreePointArc((53.211654386, -27.700233979), (56.427875079, -31.745110735), (55.572134976, -36.841463587))
            ThreePointArc((55.572134976, -36.841463587), (47.146344636, -47.146344636), (36.841463587, -55.572134976))
            ThreePointArc((36.841463587, -55.572134976), (31.745110735, -56.427875079), (27.700233979, -53.211654386))
        make_face()
        with BuildLine():
            Line((-44.706731925, -23.272851578), (-53.211654386, -27.700233979))
            ThreePointArc((-53.211654386, -27.700233979), (-56.427875079, -31.745110735), (-55.572134976, -36.841463587))
            ThreePointArc((-55.572134976, -36.841463587), (-47.146344636, -47.146344636), (-36.841463587, -55.572134976))
            ThreePointArc((-36.841463587, -55.572134976), (-31.745110735, -56.427875079), (-27.700233979, -53.211654386))
            Line((-27.700233979, -53.211654386), (-23.272851578, -44.706731925))
            ThreePointArc((-23.272851578, -44.706731925), (-22.741576978, -40.248145008), (-25.292199073, -36.552799702))
            ThreePointArc((-25.292199073, -36.552799702), (-31.430896424, -31.430896424), (-36.552799702, -25.292199073))
            ThreePointArc((-36.552799702, -25.292199073), (-40.248145008, -22.741576978), (-44.706731925, -23.272851578))
        make_face()
    extrude(amount=-CUT_EXTRUDE8_DEPTH, mode=Mode.SUBTRACT)

    # Sketch11 → Cut-Extrude9 (cut)
    with BuildSketch(Plane(origin=(0, 3.175, 0), x_dir=(1, 0, 0), z_dir=(0, 1, 0))):
        with BuildLine():
            Line((-48.068824477, 15.156042141), (-57.213344942, 18.039298368))
            ThreePointArc((-57.213344942, 18.039298368), (-62.347716187, 17.453350046), (-65.346282218, 13.244584755))
            ThreePointArc((-65.346282218, 13.244584755), (-66.675, 0), (-65.346282218, -13.244584755))
            ThreePointArc((-65.346282218, -13.244584755), (-62.347716187, -17.453350046), (-57.213344942, -18.039298368))
            Line((-57.213344942, -18.039298368), (-48.068824477, -15.156042141))
            ThreePointArc((-48.068824477, -15.156042141), (-44.540459561, -12.37901297), (-43.731018016, -7.962447065))
            ThreePointArc((-43.731018016, -7.962447065), (-44.45, 0), (-43.731018016, 7.962447065))
            ThreePointArc((-43.731018016, 7.962447065), (-44.540459561, 12.37901297), (-48.068824477, 15.156042141))
        make_face()
        with BuildLine():
            Line((48.068824477, -15.156042141), (57.213344942, -18.039298368))
            ThreePointArc((57.213344942, -18.039298368), (62.347716187, -17.453350046), (65.346282218, -13.244584755))
            ThreePointArc((65.346282218, -13.244584755), (66.675, 0), (65.346282218, 13.244584755))
            ThreePointArc((65.346282218, 13.244584755), (62.347716187, 17.453350046), (57.213344942, 18.039298368))
            Line((57.213344942, 18.039298368), (48.068824477, 15.156042141))
            ThreePointArc((48.068824477, 15.156042141), (44.540459561, 12.37901297), (43.731018016, 7.962447065))
            ThreePointArc((43.731018016, 7.962447065), (44.45, 0), (43.731018016, -7.962447065))
            ThreePointArc((43.731018016, -7.962447065), (44.540459561, -12.37901297), (48.068824477, -15.156042141))
        make_face()
    extrude(amount=-CUT_EXTRUDE9_DEPTH, mode=Mode.SUBTRACT)


solid = part.part
